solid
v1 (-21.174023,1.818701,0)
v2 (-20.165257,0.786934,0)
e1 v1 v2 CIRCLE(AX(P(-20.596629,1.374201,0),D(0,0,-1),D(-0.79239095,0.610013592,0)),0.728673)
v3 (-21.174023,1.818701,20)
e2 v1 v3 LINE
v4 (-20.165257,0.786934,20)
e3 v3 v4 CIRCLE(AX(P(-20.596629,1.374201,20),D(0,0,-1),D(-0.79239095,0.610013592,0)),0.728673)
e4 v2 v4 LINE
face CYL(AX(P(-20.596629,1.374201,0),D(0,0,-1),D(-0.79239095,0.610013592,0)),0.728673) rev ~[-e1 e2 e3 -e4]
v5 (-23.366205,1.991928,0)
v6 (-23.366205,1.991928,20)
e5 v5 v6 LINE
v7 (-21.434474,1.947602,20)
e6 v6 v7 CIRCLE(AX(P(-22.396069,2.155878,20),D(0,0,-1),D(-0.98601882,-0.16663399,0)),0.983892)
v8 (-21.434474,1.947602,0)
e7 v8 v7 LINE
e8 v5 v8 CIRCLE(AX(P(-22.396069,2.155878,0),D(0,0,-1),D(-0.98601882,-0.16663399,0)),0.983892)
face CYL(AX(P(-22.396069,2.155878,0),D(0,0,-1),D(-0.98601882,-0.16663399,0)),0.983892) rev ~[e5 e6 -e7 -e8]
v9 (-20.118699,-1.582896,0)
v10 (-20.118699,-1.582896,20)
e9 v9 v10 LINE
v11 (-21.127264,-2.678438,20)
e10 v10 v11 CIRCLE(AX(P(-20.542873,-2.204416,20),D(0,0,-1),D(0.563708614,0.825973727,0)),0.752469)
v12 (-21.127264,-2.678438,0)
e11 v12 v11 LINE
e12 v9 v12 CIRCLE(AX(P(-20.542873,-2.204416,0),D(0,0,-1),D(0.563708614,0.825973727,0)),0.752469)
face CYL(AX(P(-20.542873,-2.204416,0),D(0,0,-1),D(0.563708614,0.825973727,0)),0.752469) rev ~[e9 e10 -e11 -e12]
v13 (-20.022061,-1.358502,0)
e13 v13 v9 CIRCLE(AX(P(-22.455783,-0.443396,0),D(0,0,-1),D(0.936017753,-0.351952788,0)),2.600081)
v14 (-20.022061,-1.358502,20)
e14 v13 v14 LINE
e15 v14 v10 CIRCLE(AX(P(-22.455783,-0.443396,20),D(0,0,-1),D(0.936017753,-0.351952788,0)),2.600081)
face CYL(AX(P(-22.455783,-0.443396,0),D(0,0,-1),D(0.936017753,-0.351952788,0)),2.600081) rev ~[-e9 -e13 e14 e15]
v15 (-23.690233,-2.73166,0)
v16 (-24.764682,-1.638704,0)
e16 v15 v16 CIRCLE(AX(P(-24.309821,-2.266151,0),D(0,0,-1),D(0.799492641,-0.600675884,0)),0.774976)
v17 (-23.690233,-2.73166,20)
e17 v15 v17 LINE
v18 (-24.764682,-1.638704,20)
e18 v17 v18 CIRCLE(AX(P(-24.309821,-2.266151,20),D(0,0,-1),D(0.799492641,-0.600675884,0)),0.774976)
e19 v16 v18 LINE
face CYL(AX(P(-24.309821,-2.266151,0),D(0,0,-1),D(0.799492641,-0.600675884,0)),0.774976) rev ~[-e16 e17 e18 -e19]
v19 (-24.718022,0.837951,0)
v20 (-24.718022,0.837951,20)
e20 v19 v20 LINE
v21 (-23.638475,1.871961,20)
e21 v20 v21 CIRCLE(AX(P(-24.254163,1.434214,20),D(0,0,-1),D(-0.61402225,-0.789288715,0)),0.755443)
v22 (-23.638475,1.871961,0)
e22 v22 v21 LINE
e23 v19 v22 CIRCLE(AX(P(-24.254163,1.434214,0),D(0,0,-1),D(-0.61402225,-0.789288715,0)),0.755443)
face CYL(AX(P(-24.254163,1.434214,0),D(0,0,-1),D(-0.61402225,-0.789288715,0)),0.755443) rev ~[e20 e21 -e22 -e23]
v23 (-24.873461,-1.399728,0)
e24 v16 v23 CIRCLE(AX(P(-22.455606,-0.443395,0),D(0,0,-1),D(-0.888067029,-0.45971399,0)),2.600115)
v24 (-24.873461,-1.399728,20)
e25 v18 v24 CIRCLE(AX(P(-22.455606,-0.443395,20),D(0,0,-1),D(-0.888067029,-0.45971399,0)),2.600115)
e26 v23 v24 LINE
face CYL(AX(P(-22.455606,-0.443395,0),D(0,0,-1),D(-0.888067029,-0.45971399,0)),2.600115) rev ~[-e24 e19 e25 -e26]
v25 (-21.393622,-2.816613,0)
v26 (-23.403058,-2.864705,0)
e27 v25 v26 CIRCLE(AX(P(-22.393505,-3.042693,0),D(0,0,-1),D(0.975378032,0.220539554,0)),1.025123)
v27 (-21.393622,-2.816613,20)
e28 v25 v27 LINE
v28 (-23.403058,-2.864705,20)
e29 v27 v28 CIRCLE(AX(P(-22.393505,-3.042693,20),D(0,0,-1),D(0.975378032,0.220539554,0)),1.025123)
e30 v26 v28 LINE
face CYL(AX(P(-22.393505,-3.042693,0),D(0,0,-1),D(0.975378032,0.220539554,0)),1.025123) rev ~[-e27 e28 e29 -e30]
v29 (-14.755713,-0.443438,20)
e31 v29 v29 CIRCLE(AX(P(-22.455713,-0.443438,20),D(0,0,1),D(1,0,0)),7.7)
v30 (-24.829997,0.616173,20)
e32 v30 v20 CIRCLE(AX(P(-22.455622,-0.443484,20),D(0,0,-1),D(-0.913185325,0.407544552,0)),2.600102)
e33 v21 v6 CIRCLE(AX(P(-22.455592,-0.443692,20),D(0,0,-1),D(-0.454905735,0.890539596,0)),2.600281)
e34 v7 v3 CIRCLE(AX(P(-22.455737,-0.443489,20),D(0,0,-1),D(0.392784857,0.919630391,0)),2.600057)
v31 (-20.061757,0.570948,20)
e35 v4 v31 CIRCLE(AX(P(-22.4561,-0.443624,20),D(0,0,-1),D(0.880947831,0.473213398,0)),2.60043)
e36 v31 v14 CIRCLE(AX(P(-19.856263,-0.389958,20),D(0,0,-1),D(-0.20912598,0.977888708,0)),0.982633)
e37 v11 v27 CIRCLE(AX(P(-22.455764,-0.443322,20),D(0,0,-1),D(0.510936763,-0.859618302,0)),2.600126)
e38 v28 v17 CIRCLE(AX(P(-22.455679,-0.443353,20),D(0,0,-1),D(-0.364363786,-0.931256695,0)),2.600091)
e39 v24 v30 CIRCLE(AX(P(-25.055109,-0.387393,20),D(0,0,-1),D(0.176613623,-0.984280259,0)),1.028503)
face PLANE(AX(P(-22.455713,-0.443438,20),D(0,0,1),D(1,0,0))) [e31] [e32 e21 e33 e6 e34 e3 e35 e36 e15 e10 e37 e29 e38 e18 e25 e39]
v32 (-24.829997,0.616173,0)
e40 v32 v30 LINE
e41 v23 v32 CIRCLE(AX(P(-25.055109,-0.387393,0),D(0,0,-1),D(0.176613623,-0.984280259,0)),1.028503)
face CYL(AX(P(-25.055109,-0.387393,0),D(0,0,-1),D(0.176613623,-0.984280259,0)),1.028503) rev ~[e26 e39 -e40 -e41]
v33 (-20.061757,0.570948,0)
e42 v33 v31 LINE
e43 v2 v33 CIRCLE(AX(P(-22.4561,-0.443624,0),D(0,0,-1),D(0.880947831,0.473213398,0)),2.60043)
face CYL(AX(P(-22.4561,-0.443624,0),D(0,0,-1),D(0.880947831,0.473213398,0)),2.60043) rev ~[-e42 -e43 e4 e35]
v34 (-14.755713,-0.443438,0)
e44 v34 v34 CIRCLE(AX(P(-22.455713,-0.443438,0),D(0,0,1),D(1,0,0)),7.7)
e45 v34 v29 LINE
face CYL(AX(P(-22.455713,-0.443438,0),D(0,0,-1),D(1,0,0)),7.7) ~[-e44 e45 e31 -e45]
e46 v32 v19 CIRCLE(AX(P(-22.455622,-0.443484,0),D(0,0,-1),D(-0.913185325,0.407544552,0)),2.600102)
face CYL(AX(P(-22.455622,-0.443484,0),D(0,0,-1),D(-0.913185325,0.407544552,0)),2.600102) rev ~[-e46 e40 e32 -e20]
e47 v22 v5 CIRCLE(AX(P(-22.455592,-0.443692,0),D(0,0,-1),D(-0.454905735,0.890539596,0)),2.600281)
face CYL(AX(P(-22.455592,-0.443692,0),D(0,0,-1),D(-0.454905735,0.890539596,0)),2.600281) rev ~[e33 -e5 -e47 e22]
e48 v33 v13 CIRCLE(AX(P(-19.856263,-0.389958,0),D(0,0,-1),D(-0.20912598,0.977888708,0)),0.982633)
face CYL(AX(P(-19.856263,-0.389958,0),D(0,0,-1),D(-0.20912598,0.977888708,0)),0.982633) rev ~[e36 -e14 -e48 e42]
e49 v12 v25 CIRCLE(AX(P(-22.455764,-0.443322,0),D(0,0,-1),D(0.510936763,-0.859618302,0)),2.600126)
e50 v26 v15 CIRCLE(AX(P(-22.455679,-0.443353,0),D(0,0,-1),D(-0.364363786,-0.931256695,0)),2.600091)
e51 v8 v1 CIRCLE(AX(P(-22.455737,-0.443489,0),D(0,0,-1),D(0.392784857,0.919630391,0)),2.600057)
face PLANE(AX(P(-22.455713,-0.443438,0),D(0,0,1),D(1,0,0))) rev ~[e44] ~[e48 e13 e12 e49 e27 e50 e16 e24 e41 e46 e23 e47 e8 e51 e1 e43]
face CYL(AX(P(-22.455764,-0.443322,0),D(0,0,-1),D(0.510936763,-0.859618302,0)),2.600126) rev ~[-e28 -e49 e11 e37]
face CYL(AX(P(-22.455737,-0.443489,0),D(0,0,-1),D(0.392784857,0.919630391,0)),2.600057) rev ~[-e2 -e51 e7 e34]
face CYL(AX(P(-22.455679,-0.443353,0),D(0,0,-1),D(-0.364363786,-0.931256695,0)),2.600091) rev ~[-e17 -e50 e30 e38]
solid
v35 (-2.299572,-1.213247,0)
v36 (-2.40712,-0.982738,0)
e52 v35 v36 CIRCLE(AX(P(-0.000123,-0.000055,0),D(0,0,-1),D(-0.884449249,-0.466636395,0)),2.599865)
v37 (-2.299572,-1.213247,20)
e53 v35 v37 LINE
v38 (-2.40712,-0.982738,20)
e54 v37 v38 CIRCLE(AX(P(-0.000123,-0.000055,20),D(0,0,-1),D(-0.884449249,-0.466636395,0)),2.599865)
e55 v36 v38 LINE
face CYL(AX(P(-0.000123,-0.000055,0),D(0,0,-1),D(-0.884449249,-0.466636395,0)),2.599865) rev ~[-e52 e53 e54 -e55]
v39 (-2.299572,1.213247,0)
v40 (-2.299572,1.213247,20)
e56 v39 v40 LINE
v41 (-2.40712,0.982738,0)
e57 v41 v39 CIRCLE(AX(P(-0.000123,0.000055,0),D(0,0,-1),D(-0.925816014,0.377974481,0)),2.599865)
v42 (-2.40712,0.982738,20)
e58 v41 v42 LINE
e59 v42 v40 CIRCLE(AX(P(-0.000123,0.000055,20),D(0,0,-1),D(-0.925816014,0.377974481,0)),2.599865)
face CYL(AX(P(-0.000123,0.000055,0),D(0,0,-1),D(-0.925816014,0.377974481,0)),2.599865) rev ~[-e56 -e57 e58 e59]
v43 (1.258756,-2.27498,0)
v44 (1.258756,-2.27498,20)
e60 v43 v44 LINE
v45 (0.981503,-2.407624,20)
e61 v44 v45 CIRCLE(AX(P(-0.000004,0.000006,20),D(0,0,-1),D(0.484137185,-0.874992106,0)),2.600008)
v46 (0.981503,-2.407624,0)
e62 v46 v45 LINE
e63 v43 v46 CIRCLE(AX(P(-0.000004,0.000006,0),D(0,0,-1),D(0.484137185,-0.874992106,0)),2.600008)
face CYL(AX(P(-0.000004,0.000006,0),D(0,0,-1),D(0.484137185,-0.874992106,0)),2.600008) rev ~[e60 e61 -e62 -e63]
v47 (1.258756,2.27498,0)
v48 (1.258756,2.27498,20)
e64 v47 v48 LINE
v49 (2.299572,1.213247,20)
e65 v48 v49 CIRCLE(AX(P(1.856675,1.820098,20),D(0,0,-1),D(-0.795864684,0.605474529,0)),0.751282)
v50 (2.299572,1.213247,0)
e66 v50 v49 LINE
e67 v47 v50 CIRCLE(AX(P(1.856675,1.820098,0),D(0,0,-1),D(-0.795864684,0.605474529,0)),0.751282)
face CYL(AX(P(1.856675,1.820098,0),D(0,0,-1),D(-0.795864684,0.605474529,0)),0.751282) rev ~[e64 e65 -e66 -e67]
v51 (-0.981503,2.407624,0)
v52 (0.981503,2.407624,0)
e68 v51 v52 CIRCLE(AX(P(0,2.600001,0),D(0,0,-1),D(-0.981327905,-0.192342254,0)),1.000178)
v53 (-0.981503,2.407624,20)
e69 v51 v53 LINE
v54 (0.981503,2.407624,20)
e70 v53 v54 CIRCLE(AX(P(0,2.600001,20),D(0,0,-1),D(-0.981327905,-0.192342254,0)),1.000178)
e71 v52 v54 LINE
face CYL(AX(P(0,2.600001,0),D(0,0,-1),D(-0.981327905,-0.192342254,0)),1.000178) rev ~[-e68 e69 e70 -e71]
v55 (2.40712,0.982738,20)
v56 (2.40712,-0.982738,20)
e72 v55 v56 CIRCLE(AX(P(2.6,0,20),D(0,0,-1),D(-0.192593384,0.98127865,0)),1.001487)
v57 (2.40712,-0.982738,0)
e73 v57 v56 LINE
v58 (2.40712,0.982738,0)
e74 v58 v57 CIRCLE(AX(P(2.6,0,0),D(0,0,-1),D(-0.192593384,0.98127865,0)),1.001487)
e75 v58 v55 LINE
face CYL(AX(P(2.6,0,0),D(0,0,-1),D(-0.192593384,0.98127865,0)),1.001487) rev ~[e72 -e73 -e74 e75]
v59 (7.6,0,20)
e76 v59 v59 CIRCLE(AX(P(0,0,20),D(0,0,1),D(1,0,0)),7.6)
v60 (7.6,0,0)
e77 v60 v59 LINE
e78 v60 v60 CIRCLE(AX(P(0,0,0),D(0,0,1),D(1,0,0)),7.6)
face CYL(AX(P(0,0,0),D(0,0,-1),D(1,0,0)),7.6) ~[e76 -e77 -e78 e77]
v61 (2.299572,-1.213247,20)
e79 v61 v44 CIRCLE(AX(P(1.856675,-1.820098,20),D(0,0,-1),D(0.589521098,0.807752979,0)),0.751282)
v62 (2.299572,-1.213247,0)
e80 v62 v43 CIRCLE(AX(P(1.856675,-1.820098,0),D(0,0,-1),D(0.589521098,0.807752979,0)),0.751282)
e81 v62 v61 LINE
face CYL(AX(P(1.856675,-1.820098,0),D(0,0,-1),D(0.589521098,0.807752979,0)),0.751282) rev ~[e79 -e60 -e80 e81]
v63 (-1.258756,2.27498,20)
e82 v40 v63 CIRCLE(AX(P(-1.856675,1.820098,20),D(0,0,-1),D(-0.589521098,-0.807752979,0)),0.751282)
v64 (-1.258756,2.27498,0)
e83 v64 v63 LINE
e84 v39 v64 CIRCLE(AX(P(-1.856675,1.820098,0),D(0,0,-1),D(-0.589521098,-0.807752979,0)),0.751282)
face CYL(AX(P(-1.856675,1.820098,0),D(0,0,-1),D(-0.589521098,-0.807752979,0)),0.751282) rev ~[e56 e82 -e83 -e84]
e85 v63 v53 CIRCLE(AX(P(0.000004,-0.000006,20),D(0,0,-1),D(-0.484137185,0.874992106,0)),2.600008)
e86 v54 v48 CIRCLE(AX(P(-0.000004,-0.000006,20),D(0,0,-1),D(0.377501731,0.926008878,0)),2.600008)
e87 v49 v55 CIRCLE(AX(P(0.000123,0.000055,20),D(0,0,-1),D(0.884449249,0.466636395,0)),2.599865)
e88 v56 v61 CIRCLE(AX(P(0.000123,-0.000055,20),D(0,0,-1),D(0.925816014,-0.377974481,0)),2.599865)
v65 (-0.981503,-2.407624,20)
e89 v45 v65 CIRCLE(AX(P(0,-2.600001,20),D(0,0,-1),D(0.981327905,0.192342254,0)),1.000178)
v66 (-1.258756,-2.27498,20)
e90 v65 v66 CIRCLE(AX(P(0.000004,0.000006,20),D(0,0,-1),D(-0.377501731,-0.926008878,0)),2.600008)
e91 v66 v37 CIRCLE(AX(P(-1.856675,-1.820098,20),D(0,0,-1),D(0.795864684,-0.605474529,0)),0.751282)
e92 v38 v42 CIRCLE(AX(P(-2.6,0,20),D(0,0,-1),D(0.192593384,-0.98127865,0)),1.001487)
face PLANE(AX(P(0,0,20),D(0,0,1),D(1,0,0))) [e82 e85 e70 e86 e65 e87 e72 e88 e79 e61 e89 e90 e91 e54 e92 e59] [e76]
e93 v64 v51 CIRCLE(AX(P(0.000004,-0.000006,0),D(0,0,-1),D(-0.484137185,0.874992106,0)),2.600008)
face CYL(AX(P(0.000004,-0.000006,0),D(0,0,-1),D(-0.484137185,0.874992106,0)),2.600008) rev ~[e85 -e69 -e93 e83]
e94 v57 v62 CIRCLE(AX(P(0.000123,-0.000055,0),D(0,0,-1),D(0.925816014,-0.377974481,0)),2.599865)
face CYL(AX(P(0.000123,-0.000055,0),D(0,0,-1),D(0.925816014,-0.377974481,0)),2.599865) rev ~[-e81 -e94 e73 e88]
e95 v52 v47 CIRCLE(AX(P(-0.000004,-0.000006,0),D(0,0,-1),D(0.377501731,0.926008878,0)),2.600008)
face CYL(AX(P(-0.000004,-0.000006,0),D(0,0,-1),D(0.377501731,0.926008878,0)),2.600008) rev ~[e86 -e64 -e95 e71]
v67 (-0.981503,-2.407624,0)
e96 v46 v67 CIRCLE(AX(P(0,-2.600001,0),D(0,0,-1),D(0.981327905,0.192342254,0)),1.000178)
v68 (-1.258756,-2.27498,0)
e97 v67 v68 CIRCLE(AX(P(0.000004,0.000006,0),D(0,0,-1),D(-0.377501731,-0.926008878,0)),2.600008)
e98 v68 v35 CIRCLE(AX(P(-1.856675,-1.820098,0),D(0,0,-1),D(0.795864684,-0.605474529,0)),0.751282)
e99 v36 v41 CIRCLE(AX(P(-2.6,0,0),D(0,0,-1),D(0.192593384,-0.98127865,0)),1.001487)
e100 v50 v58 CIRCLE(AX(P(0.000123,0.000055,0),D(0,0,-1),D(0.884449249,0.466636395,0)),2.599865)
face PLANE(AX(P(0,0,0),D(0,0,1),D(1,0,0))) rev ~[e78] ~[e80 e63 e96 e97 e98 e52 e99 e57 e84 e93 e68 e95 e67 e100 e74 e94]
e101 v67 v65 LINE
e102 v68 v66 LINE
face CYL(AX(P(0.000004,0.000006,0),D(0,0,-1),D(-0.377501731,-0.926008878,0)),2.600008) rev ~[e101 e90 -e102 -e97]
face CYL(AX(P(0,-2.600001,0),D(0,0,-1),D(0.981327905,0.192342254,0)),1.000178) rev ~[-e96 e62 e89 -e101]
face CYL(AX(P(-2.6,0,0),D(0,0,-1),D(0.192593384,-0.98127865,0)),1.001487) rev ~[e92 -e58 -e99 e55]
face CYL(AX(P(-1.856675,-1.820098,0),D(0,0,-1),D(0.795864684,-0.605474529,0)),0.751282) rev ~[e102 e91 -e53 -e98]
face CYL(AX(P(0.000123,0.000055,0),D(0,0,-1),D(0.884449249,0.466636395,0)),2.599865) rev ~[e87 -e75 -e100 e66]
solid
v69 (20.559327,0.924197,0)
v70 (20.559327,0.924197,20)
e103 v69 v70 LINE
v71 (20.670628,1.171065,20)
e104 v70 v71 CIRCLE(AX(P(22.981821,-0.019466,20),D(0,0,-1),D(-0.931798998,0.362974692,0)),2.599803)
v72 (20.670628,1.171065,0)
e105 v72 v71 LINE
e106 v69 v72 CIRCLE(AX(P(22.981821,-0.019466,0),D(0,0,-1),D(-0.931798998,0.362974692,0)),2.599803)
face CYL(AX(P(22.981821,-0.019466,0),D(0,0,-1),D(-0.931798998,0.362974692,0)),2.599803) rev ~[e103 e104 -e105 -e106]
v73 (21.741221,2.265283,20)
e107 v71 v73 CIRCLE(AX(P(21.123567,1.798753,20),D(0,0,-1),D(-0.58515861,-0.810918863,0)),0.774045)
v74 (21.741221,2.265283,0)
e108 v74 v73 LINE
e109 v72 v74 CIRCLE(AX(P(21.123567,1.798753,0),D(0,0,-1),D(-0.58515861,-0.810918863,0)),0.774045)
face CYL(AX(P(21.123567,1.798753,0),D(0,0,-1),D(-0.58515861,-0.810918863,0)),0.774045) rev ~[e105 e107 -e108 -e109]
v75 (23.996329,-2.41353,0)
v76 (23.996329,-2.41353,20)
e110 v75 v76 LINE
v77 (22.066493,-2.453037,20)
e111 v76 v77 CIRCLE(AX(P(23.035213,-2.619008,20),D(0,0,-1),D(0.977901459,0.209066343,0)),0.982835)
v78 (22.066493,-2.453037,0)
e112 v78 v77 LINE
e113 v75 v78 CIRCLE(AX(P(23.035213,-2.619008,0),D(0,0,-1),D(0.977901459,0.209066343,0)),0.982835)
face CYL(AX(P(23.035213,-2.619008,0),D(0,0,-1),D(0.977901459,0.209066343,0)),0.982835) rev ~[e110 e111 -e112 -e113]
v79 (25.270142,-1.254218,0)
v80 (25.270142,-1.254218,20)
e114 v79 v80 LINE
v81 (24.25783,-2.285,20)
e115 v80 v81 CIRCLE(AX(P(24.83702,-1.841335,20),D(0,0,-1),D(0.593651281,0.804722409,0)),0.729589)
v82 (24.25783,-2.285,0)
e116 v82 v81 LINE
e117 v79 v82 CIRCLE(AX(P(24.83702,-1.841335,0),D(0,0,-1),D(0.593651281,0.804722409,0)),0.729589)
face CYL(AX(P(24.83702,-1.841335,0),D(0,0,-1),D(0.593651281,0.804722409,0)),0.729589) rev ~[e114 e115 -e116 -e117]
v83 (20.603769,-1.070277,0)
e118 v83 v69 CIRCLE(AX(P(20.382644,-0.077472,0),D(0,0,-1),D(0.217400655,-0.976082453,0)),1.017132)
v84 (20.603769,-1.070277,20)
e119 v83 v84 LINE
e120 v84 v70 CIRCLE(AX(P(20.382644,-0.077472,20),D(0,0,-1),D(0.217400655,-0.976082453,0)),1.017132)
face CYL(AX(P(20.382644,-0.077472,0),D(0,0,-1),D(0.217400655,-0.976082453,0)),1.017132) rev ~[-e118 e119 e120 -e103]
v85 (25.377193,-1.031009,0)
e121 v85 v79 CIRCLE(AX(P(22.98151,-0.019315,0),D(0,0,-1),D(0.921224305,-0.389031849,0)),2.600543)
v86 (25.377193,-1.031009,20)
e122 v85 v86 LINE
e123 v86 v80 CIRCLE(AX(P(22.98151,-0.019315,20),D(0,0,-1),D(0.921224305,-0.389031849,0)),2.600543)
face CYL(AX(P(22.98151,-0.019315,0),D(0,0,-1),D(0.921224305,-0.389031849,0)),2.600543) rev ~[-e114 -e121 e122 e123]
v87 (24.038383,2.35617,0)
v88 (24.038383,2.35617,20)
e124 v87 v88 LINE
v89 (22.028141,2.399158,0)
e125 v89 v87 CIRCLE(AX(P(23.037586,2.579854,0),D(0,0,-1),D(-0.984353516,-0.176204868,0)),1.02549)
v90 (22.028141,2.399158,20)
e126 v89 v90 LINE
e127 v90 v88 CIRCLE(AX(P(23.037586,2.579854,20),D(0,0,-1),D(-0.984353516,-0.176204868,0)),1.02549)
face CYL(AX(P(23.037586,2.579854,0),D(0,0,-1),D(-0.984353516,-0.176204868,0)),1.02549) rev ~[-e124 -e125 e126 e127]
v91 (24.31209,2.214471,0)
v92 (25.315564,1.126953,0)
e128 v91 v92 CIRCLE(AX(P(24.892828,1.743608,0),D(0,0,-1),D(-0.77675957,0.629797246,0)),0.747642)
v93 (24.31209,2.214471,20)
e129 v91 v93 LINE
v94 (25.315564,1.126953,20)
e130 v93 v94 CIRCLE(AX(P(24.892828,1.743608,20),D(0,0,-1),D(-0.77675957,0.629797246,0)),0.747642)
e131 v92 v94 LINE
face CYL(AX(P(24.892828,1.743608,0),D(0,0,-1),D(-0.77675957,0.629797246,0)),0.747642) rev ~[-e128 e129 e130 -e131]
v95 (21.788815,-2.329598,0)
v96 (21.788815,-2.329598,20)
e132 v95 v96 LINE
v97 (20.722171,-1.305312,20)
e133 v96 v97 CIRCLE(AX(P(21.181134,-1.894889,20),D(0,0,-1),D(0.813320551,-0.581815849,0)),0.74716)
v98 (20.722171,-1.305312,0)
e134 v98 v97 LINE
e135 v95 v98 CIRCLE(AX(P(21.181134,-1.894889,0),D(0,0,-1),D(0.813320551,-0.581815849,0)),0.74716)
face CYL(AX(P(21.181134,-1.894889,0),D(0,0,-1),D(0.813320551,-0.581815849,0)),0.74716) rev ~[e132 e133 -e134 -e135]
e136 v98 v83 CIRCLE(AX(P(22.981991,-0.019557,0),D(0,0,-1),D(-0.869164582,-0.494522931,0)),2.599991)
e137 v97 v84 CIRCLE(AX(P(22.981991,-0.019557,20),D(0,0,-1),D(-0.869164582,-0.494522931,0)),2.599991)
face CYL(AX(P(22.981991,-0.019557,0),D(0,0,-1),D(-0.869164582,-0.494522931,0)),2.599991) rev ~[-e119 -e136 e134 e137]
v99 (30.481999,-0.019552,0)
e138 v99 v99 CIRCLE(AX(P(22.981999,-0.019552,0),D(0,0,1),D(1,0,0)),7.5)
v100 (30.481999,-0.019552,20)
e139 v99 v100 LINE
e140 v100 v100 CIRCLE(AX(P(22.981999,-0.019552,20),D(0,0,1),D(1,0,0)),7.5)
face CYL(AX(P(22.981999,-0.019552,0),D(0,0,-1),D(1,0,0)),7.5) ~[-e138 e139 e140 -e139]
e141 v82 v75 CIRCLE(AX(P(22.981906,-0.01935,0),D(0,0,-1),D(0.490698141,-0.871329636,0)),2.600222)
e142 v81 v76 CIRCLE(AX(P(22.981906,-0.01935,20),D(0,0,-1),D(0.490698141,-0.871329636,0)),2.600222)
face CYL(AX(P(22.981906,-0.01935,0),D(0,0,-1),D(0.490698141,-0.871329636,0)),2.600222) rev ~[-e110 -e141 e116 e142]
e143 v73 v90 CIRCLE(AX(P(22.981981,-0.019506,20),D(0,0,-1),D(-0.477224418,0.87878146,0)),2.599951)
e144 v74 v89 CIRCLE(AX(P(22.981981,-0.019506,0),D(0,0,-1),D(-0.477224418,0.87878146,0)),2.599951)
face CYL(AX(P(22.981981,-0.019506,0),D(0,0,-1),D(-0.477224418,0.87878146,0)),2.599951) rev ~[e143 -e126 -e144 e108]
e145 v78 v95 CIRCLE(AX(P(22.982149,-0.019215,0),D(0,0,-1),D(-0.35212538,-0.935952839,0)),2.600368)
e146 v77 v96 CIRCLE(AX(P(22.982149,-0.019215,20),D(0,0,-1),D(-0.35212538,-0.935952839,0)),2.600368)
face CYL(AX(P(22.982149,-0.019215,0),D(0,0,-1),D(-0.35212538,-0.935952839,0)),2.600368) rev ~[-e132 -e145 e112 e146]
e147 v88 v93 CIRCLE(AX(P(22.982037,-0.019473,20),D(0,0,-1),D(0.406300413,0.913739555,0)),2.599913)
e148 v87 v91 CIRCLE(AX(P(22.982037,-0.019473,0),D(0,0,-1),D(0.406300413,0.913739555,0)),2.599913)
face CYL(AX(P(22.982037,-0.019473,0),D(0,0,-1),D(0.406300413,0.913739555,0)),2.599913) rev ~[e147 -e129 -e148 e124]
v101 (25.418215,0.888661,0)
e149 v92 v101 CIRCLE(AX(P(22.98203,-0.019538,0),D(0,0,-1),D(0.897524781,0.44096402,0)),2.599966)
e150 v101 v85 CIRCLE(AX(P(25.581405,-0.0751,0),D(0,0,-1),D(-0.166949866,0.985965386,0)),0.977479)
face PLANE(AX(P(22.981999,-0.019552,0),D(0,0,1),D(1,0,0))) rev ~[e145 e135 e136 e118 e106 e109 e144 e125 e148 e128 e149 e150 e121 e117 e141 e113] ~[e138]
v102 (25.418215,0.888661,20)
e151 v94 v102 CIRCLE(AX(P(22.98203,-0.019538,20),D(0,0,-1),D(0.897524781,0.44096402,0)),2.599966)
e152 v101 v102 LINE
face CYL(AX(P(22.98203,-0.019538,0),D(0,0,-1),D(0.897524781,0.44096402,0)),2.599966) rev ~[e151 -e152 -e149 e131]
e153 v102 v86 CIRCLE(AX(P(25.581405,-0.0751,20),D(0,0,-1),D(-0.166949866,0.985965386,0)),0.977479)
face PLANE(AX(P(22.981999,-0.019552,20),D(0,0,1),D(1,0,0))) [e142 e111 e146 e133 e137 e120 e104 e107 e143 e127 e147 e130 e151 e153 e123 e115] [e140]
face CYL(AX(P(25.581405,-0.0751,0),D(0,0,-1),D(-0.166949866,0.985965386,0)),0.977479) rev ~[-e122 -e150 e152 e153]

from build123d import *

# Parameters (mm, degrees)
F0_R     = 7.6
F0_R_2   = 7.5
F0_R_3   = 7.7
F1_DEPTH = 20


with BuildPart() as f1:
    # F0 (on Top) → F1 (new body)
    with BuildSketch(Plane.XY):
        Circle(F0_R)
        with BuildLine():
            ThreePointArc((2.299572, 1.213247), (2.356167, 1.099308), (2.40712, 0.982738))
            ThreePointArc((2.40712, 0.982738), (3.601487, 0), (2.40712, -0.982738))
            ThreePointArc((2.40712, -0.982738), (2.356167, -1.099308), (2.299572, -1.213247))
            ThreePointArc((2.299572, -1.213247), (2.393171, -2.346023), (1.258756, -2.27498))
            ThreePointArc((1.258756, -2.27498), (1.122092, -2.345402), (0.981503, -2.407624))
            ThreePointArc((0.981503, -2.407624), (0, -3.600179), (-0.981503, -2.407624))
            ThreePointArc((-0.981503, -2.407624), (-1.122092, -2.345402), (-1.258756, -2.27498))
            ThreePointArc((-1.258756, -2.27498), (-2.393171, -2.346023), (-2.299572, -1.213247))
            ThreePointArc((-2.299572, -1.213247), (-2.356167, -1.099308), (-2.40712, -0.982738))
            ThreePointArc((-2.40712, -0.982738), (-3.601487, 0), (-2.40712, 0.982738))
            ThreePointArc((-2.40712, 0.982738), (-2.356167, 1.099308), (-2.299572, 1.213247))
            ThreePointArc((-2.299572, 1.213247), (-2.393171, 2.346023), (-1.258756, 2.27498))
            ThreePointArc((-1.258756, 2.27498), (-1.122092, 2.345402), (-0.981503, 2.407624))
            ThreePointArc((-0.981503, 2.407624), (0, 3.600179), (0.981503, 2.407624))
            ThreePointArc((0.981503, 2.407624), (1.122092, 2.345402), (1.258756, 2.27498))
            ThreePointArc((1.258756, 2.27498), (2.393171, 2.346023), (2.299572, 1.213247))
        make_face(mode=Mode.SUBTRACT)
        with Locations((22.981999, -0.019552)):
            Circle(F0_R_2)
        with BuildLine():
            ThreePointArc((25.315564, 1.126953), (25.369864, 1.009088), (25.418215, 0.888661))
            ThreePointArc((25.418215, 0.888661), (26.558661, -0.095983), (25.377193, -1.031009))
            ThreePointArc((25.377193, -1.031009), (25.326325, -1.143888), (25.270142, -1.254218))
            ThreePointArc((25.270142, -1.254218), (25.35756, -2.352548), (24.25783, -2.285))
            ThreePointArc((24.25783, -2.285), (24.128881, -2.352931), (23.996329, -2.41353))
            ThreePointArc((23.996329, -2.41353), (23.055329, -3.601637), (22.066493, -2.453037))
            ThreePointArc((22.066493, -2.453037), (21.925849, -2.395377), (21.788815, -2.329598))
            ThreePointArc((21.788815, -2.329598), (20.663621, -2.433802), (20.722171, -1.305312))
            ThreePointArc((20.722171, -1.305312), (20.659994, -1.189293), (20.603769, -1.070277))
            ThreePointArc((20.603769, -1.070277), (19.365764, -0.100131), (20.559327, 0.924197))
            ThreePointArc((20.559327, 0.924197), (20.611761, 1.049081), (20.670628, 1.171065))
            ThreePointArc((20.670628, 1.171065), (20.570294, 2.34008), (21.741221, 2.265283))
            ThreePointArc((21.741221, 2.265283), (21.882641, 2.336592), (22.028141, 2.399158))
            ThreePointArc((22.028141, 2.399158), (23.05951, 3.60511), (24.038383, 2.35617))
            ThreePointArc((24.038383, 2.35617), (24.177338, 2.28938), (24.31209, 2.214471))
            ThreePointArc((24.31209, 2.214471), (25.442296, 2.250613), (25.315564, 1.126953))
        make_face(mode=Mode.SUBTRACT)
        with Locations((-22.455713, -0.443438)):
            Circle(F0_R_3)
        with BuildLine():
            ThreePointArc((-20.165257, 0.786934), (-20.111019, 0.680133), (-20.061757, 0.570948))
            ThreePointArc((-20.061757, 0.570948), (-18.873838, -0.369745), (-20.022061, -1.358502))
            ThreePointArc((-20.022061, -1.358502), (-20.067743, -1.471835), (-20.118699, -1.582896))
            ThreePointArc((-20.118699, -1.582896), (-19.989275, -2.714063), (-21.127264, -2.678438))
            ThreePointArc((-21.127264, -2.678438), (-21.258448, -2.751371), (-21.393622, -2.816613))
            ThreePointArc((-21.393622, -2.816613), (-22.368977, -4.067523), (-23.403058, -2.864705))
            ThreePointArc((-23.403058, -2.864705), (-23.548672, -2.802556), (-23.690233, -2.73166))
            ThreePointArc((-23.690233, -2.73166), (-24.862471, -2.809442), (-24.764682, -1.638704))
            ThreePointArc((-24.764682, -1.638704), (-24.82209, -1.52059), (-24.873461, -1.399728))
            ThreePointArc((-24.873461, -1.399728), (-26.083373, -0.365222), (-24.829997, 0.616173))
            ThreePointArc((-24.829997, 0.616173), (-24.77666, 0.7284), (-24.718022, 0.837951))
            ThreePointArc((-24.718022, 0.837951), (-24.776712, 1.979775), (-23.638475, 1.871961))
            ThreePointArc((-23.638475, 1.871961), (-23.504057, 1.935842), (-23.366205, 1.991928))
            ThreePointArc((-23.366205, 1.991928), (-22.373498, 3.139511), (-21.434474, 1.947602))
            ThreePointArc((-21.434474, 1.947602), (-21.302446, 1.886793), (-21.174023, 1.818701))
            ThreePointArc((-21.174023, 1.818701), (-20.075605, 1.88361), (-20.165257, 0.786934))
        make_face(mode=Mode.SUBTRACT)
    extrude(amount=F1_DEPTH)


solid = f1.part
